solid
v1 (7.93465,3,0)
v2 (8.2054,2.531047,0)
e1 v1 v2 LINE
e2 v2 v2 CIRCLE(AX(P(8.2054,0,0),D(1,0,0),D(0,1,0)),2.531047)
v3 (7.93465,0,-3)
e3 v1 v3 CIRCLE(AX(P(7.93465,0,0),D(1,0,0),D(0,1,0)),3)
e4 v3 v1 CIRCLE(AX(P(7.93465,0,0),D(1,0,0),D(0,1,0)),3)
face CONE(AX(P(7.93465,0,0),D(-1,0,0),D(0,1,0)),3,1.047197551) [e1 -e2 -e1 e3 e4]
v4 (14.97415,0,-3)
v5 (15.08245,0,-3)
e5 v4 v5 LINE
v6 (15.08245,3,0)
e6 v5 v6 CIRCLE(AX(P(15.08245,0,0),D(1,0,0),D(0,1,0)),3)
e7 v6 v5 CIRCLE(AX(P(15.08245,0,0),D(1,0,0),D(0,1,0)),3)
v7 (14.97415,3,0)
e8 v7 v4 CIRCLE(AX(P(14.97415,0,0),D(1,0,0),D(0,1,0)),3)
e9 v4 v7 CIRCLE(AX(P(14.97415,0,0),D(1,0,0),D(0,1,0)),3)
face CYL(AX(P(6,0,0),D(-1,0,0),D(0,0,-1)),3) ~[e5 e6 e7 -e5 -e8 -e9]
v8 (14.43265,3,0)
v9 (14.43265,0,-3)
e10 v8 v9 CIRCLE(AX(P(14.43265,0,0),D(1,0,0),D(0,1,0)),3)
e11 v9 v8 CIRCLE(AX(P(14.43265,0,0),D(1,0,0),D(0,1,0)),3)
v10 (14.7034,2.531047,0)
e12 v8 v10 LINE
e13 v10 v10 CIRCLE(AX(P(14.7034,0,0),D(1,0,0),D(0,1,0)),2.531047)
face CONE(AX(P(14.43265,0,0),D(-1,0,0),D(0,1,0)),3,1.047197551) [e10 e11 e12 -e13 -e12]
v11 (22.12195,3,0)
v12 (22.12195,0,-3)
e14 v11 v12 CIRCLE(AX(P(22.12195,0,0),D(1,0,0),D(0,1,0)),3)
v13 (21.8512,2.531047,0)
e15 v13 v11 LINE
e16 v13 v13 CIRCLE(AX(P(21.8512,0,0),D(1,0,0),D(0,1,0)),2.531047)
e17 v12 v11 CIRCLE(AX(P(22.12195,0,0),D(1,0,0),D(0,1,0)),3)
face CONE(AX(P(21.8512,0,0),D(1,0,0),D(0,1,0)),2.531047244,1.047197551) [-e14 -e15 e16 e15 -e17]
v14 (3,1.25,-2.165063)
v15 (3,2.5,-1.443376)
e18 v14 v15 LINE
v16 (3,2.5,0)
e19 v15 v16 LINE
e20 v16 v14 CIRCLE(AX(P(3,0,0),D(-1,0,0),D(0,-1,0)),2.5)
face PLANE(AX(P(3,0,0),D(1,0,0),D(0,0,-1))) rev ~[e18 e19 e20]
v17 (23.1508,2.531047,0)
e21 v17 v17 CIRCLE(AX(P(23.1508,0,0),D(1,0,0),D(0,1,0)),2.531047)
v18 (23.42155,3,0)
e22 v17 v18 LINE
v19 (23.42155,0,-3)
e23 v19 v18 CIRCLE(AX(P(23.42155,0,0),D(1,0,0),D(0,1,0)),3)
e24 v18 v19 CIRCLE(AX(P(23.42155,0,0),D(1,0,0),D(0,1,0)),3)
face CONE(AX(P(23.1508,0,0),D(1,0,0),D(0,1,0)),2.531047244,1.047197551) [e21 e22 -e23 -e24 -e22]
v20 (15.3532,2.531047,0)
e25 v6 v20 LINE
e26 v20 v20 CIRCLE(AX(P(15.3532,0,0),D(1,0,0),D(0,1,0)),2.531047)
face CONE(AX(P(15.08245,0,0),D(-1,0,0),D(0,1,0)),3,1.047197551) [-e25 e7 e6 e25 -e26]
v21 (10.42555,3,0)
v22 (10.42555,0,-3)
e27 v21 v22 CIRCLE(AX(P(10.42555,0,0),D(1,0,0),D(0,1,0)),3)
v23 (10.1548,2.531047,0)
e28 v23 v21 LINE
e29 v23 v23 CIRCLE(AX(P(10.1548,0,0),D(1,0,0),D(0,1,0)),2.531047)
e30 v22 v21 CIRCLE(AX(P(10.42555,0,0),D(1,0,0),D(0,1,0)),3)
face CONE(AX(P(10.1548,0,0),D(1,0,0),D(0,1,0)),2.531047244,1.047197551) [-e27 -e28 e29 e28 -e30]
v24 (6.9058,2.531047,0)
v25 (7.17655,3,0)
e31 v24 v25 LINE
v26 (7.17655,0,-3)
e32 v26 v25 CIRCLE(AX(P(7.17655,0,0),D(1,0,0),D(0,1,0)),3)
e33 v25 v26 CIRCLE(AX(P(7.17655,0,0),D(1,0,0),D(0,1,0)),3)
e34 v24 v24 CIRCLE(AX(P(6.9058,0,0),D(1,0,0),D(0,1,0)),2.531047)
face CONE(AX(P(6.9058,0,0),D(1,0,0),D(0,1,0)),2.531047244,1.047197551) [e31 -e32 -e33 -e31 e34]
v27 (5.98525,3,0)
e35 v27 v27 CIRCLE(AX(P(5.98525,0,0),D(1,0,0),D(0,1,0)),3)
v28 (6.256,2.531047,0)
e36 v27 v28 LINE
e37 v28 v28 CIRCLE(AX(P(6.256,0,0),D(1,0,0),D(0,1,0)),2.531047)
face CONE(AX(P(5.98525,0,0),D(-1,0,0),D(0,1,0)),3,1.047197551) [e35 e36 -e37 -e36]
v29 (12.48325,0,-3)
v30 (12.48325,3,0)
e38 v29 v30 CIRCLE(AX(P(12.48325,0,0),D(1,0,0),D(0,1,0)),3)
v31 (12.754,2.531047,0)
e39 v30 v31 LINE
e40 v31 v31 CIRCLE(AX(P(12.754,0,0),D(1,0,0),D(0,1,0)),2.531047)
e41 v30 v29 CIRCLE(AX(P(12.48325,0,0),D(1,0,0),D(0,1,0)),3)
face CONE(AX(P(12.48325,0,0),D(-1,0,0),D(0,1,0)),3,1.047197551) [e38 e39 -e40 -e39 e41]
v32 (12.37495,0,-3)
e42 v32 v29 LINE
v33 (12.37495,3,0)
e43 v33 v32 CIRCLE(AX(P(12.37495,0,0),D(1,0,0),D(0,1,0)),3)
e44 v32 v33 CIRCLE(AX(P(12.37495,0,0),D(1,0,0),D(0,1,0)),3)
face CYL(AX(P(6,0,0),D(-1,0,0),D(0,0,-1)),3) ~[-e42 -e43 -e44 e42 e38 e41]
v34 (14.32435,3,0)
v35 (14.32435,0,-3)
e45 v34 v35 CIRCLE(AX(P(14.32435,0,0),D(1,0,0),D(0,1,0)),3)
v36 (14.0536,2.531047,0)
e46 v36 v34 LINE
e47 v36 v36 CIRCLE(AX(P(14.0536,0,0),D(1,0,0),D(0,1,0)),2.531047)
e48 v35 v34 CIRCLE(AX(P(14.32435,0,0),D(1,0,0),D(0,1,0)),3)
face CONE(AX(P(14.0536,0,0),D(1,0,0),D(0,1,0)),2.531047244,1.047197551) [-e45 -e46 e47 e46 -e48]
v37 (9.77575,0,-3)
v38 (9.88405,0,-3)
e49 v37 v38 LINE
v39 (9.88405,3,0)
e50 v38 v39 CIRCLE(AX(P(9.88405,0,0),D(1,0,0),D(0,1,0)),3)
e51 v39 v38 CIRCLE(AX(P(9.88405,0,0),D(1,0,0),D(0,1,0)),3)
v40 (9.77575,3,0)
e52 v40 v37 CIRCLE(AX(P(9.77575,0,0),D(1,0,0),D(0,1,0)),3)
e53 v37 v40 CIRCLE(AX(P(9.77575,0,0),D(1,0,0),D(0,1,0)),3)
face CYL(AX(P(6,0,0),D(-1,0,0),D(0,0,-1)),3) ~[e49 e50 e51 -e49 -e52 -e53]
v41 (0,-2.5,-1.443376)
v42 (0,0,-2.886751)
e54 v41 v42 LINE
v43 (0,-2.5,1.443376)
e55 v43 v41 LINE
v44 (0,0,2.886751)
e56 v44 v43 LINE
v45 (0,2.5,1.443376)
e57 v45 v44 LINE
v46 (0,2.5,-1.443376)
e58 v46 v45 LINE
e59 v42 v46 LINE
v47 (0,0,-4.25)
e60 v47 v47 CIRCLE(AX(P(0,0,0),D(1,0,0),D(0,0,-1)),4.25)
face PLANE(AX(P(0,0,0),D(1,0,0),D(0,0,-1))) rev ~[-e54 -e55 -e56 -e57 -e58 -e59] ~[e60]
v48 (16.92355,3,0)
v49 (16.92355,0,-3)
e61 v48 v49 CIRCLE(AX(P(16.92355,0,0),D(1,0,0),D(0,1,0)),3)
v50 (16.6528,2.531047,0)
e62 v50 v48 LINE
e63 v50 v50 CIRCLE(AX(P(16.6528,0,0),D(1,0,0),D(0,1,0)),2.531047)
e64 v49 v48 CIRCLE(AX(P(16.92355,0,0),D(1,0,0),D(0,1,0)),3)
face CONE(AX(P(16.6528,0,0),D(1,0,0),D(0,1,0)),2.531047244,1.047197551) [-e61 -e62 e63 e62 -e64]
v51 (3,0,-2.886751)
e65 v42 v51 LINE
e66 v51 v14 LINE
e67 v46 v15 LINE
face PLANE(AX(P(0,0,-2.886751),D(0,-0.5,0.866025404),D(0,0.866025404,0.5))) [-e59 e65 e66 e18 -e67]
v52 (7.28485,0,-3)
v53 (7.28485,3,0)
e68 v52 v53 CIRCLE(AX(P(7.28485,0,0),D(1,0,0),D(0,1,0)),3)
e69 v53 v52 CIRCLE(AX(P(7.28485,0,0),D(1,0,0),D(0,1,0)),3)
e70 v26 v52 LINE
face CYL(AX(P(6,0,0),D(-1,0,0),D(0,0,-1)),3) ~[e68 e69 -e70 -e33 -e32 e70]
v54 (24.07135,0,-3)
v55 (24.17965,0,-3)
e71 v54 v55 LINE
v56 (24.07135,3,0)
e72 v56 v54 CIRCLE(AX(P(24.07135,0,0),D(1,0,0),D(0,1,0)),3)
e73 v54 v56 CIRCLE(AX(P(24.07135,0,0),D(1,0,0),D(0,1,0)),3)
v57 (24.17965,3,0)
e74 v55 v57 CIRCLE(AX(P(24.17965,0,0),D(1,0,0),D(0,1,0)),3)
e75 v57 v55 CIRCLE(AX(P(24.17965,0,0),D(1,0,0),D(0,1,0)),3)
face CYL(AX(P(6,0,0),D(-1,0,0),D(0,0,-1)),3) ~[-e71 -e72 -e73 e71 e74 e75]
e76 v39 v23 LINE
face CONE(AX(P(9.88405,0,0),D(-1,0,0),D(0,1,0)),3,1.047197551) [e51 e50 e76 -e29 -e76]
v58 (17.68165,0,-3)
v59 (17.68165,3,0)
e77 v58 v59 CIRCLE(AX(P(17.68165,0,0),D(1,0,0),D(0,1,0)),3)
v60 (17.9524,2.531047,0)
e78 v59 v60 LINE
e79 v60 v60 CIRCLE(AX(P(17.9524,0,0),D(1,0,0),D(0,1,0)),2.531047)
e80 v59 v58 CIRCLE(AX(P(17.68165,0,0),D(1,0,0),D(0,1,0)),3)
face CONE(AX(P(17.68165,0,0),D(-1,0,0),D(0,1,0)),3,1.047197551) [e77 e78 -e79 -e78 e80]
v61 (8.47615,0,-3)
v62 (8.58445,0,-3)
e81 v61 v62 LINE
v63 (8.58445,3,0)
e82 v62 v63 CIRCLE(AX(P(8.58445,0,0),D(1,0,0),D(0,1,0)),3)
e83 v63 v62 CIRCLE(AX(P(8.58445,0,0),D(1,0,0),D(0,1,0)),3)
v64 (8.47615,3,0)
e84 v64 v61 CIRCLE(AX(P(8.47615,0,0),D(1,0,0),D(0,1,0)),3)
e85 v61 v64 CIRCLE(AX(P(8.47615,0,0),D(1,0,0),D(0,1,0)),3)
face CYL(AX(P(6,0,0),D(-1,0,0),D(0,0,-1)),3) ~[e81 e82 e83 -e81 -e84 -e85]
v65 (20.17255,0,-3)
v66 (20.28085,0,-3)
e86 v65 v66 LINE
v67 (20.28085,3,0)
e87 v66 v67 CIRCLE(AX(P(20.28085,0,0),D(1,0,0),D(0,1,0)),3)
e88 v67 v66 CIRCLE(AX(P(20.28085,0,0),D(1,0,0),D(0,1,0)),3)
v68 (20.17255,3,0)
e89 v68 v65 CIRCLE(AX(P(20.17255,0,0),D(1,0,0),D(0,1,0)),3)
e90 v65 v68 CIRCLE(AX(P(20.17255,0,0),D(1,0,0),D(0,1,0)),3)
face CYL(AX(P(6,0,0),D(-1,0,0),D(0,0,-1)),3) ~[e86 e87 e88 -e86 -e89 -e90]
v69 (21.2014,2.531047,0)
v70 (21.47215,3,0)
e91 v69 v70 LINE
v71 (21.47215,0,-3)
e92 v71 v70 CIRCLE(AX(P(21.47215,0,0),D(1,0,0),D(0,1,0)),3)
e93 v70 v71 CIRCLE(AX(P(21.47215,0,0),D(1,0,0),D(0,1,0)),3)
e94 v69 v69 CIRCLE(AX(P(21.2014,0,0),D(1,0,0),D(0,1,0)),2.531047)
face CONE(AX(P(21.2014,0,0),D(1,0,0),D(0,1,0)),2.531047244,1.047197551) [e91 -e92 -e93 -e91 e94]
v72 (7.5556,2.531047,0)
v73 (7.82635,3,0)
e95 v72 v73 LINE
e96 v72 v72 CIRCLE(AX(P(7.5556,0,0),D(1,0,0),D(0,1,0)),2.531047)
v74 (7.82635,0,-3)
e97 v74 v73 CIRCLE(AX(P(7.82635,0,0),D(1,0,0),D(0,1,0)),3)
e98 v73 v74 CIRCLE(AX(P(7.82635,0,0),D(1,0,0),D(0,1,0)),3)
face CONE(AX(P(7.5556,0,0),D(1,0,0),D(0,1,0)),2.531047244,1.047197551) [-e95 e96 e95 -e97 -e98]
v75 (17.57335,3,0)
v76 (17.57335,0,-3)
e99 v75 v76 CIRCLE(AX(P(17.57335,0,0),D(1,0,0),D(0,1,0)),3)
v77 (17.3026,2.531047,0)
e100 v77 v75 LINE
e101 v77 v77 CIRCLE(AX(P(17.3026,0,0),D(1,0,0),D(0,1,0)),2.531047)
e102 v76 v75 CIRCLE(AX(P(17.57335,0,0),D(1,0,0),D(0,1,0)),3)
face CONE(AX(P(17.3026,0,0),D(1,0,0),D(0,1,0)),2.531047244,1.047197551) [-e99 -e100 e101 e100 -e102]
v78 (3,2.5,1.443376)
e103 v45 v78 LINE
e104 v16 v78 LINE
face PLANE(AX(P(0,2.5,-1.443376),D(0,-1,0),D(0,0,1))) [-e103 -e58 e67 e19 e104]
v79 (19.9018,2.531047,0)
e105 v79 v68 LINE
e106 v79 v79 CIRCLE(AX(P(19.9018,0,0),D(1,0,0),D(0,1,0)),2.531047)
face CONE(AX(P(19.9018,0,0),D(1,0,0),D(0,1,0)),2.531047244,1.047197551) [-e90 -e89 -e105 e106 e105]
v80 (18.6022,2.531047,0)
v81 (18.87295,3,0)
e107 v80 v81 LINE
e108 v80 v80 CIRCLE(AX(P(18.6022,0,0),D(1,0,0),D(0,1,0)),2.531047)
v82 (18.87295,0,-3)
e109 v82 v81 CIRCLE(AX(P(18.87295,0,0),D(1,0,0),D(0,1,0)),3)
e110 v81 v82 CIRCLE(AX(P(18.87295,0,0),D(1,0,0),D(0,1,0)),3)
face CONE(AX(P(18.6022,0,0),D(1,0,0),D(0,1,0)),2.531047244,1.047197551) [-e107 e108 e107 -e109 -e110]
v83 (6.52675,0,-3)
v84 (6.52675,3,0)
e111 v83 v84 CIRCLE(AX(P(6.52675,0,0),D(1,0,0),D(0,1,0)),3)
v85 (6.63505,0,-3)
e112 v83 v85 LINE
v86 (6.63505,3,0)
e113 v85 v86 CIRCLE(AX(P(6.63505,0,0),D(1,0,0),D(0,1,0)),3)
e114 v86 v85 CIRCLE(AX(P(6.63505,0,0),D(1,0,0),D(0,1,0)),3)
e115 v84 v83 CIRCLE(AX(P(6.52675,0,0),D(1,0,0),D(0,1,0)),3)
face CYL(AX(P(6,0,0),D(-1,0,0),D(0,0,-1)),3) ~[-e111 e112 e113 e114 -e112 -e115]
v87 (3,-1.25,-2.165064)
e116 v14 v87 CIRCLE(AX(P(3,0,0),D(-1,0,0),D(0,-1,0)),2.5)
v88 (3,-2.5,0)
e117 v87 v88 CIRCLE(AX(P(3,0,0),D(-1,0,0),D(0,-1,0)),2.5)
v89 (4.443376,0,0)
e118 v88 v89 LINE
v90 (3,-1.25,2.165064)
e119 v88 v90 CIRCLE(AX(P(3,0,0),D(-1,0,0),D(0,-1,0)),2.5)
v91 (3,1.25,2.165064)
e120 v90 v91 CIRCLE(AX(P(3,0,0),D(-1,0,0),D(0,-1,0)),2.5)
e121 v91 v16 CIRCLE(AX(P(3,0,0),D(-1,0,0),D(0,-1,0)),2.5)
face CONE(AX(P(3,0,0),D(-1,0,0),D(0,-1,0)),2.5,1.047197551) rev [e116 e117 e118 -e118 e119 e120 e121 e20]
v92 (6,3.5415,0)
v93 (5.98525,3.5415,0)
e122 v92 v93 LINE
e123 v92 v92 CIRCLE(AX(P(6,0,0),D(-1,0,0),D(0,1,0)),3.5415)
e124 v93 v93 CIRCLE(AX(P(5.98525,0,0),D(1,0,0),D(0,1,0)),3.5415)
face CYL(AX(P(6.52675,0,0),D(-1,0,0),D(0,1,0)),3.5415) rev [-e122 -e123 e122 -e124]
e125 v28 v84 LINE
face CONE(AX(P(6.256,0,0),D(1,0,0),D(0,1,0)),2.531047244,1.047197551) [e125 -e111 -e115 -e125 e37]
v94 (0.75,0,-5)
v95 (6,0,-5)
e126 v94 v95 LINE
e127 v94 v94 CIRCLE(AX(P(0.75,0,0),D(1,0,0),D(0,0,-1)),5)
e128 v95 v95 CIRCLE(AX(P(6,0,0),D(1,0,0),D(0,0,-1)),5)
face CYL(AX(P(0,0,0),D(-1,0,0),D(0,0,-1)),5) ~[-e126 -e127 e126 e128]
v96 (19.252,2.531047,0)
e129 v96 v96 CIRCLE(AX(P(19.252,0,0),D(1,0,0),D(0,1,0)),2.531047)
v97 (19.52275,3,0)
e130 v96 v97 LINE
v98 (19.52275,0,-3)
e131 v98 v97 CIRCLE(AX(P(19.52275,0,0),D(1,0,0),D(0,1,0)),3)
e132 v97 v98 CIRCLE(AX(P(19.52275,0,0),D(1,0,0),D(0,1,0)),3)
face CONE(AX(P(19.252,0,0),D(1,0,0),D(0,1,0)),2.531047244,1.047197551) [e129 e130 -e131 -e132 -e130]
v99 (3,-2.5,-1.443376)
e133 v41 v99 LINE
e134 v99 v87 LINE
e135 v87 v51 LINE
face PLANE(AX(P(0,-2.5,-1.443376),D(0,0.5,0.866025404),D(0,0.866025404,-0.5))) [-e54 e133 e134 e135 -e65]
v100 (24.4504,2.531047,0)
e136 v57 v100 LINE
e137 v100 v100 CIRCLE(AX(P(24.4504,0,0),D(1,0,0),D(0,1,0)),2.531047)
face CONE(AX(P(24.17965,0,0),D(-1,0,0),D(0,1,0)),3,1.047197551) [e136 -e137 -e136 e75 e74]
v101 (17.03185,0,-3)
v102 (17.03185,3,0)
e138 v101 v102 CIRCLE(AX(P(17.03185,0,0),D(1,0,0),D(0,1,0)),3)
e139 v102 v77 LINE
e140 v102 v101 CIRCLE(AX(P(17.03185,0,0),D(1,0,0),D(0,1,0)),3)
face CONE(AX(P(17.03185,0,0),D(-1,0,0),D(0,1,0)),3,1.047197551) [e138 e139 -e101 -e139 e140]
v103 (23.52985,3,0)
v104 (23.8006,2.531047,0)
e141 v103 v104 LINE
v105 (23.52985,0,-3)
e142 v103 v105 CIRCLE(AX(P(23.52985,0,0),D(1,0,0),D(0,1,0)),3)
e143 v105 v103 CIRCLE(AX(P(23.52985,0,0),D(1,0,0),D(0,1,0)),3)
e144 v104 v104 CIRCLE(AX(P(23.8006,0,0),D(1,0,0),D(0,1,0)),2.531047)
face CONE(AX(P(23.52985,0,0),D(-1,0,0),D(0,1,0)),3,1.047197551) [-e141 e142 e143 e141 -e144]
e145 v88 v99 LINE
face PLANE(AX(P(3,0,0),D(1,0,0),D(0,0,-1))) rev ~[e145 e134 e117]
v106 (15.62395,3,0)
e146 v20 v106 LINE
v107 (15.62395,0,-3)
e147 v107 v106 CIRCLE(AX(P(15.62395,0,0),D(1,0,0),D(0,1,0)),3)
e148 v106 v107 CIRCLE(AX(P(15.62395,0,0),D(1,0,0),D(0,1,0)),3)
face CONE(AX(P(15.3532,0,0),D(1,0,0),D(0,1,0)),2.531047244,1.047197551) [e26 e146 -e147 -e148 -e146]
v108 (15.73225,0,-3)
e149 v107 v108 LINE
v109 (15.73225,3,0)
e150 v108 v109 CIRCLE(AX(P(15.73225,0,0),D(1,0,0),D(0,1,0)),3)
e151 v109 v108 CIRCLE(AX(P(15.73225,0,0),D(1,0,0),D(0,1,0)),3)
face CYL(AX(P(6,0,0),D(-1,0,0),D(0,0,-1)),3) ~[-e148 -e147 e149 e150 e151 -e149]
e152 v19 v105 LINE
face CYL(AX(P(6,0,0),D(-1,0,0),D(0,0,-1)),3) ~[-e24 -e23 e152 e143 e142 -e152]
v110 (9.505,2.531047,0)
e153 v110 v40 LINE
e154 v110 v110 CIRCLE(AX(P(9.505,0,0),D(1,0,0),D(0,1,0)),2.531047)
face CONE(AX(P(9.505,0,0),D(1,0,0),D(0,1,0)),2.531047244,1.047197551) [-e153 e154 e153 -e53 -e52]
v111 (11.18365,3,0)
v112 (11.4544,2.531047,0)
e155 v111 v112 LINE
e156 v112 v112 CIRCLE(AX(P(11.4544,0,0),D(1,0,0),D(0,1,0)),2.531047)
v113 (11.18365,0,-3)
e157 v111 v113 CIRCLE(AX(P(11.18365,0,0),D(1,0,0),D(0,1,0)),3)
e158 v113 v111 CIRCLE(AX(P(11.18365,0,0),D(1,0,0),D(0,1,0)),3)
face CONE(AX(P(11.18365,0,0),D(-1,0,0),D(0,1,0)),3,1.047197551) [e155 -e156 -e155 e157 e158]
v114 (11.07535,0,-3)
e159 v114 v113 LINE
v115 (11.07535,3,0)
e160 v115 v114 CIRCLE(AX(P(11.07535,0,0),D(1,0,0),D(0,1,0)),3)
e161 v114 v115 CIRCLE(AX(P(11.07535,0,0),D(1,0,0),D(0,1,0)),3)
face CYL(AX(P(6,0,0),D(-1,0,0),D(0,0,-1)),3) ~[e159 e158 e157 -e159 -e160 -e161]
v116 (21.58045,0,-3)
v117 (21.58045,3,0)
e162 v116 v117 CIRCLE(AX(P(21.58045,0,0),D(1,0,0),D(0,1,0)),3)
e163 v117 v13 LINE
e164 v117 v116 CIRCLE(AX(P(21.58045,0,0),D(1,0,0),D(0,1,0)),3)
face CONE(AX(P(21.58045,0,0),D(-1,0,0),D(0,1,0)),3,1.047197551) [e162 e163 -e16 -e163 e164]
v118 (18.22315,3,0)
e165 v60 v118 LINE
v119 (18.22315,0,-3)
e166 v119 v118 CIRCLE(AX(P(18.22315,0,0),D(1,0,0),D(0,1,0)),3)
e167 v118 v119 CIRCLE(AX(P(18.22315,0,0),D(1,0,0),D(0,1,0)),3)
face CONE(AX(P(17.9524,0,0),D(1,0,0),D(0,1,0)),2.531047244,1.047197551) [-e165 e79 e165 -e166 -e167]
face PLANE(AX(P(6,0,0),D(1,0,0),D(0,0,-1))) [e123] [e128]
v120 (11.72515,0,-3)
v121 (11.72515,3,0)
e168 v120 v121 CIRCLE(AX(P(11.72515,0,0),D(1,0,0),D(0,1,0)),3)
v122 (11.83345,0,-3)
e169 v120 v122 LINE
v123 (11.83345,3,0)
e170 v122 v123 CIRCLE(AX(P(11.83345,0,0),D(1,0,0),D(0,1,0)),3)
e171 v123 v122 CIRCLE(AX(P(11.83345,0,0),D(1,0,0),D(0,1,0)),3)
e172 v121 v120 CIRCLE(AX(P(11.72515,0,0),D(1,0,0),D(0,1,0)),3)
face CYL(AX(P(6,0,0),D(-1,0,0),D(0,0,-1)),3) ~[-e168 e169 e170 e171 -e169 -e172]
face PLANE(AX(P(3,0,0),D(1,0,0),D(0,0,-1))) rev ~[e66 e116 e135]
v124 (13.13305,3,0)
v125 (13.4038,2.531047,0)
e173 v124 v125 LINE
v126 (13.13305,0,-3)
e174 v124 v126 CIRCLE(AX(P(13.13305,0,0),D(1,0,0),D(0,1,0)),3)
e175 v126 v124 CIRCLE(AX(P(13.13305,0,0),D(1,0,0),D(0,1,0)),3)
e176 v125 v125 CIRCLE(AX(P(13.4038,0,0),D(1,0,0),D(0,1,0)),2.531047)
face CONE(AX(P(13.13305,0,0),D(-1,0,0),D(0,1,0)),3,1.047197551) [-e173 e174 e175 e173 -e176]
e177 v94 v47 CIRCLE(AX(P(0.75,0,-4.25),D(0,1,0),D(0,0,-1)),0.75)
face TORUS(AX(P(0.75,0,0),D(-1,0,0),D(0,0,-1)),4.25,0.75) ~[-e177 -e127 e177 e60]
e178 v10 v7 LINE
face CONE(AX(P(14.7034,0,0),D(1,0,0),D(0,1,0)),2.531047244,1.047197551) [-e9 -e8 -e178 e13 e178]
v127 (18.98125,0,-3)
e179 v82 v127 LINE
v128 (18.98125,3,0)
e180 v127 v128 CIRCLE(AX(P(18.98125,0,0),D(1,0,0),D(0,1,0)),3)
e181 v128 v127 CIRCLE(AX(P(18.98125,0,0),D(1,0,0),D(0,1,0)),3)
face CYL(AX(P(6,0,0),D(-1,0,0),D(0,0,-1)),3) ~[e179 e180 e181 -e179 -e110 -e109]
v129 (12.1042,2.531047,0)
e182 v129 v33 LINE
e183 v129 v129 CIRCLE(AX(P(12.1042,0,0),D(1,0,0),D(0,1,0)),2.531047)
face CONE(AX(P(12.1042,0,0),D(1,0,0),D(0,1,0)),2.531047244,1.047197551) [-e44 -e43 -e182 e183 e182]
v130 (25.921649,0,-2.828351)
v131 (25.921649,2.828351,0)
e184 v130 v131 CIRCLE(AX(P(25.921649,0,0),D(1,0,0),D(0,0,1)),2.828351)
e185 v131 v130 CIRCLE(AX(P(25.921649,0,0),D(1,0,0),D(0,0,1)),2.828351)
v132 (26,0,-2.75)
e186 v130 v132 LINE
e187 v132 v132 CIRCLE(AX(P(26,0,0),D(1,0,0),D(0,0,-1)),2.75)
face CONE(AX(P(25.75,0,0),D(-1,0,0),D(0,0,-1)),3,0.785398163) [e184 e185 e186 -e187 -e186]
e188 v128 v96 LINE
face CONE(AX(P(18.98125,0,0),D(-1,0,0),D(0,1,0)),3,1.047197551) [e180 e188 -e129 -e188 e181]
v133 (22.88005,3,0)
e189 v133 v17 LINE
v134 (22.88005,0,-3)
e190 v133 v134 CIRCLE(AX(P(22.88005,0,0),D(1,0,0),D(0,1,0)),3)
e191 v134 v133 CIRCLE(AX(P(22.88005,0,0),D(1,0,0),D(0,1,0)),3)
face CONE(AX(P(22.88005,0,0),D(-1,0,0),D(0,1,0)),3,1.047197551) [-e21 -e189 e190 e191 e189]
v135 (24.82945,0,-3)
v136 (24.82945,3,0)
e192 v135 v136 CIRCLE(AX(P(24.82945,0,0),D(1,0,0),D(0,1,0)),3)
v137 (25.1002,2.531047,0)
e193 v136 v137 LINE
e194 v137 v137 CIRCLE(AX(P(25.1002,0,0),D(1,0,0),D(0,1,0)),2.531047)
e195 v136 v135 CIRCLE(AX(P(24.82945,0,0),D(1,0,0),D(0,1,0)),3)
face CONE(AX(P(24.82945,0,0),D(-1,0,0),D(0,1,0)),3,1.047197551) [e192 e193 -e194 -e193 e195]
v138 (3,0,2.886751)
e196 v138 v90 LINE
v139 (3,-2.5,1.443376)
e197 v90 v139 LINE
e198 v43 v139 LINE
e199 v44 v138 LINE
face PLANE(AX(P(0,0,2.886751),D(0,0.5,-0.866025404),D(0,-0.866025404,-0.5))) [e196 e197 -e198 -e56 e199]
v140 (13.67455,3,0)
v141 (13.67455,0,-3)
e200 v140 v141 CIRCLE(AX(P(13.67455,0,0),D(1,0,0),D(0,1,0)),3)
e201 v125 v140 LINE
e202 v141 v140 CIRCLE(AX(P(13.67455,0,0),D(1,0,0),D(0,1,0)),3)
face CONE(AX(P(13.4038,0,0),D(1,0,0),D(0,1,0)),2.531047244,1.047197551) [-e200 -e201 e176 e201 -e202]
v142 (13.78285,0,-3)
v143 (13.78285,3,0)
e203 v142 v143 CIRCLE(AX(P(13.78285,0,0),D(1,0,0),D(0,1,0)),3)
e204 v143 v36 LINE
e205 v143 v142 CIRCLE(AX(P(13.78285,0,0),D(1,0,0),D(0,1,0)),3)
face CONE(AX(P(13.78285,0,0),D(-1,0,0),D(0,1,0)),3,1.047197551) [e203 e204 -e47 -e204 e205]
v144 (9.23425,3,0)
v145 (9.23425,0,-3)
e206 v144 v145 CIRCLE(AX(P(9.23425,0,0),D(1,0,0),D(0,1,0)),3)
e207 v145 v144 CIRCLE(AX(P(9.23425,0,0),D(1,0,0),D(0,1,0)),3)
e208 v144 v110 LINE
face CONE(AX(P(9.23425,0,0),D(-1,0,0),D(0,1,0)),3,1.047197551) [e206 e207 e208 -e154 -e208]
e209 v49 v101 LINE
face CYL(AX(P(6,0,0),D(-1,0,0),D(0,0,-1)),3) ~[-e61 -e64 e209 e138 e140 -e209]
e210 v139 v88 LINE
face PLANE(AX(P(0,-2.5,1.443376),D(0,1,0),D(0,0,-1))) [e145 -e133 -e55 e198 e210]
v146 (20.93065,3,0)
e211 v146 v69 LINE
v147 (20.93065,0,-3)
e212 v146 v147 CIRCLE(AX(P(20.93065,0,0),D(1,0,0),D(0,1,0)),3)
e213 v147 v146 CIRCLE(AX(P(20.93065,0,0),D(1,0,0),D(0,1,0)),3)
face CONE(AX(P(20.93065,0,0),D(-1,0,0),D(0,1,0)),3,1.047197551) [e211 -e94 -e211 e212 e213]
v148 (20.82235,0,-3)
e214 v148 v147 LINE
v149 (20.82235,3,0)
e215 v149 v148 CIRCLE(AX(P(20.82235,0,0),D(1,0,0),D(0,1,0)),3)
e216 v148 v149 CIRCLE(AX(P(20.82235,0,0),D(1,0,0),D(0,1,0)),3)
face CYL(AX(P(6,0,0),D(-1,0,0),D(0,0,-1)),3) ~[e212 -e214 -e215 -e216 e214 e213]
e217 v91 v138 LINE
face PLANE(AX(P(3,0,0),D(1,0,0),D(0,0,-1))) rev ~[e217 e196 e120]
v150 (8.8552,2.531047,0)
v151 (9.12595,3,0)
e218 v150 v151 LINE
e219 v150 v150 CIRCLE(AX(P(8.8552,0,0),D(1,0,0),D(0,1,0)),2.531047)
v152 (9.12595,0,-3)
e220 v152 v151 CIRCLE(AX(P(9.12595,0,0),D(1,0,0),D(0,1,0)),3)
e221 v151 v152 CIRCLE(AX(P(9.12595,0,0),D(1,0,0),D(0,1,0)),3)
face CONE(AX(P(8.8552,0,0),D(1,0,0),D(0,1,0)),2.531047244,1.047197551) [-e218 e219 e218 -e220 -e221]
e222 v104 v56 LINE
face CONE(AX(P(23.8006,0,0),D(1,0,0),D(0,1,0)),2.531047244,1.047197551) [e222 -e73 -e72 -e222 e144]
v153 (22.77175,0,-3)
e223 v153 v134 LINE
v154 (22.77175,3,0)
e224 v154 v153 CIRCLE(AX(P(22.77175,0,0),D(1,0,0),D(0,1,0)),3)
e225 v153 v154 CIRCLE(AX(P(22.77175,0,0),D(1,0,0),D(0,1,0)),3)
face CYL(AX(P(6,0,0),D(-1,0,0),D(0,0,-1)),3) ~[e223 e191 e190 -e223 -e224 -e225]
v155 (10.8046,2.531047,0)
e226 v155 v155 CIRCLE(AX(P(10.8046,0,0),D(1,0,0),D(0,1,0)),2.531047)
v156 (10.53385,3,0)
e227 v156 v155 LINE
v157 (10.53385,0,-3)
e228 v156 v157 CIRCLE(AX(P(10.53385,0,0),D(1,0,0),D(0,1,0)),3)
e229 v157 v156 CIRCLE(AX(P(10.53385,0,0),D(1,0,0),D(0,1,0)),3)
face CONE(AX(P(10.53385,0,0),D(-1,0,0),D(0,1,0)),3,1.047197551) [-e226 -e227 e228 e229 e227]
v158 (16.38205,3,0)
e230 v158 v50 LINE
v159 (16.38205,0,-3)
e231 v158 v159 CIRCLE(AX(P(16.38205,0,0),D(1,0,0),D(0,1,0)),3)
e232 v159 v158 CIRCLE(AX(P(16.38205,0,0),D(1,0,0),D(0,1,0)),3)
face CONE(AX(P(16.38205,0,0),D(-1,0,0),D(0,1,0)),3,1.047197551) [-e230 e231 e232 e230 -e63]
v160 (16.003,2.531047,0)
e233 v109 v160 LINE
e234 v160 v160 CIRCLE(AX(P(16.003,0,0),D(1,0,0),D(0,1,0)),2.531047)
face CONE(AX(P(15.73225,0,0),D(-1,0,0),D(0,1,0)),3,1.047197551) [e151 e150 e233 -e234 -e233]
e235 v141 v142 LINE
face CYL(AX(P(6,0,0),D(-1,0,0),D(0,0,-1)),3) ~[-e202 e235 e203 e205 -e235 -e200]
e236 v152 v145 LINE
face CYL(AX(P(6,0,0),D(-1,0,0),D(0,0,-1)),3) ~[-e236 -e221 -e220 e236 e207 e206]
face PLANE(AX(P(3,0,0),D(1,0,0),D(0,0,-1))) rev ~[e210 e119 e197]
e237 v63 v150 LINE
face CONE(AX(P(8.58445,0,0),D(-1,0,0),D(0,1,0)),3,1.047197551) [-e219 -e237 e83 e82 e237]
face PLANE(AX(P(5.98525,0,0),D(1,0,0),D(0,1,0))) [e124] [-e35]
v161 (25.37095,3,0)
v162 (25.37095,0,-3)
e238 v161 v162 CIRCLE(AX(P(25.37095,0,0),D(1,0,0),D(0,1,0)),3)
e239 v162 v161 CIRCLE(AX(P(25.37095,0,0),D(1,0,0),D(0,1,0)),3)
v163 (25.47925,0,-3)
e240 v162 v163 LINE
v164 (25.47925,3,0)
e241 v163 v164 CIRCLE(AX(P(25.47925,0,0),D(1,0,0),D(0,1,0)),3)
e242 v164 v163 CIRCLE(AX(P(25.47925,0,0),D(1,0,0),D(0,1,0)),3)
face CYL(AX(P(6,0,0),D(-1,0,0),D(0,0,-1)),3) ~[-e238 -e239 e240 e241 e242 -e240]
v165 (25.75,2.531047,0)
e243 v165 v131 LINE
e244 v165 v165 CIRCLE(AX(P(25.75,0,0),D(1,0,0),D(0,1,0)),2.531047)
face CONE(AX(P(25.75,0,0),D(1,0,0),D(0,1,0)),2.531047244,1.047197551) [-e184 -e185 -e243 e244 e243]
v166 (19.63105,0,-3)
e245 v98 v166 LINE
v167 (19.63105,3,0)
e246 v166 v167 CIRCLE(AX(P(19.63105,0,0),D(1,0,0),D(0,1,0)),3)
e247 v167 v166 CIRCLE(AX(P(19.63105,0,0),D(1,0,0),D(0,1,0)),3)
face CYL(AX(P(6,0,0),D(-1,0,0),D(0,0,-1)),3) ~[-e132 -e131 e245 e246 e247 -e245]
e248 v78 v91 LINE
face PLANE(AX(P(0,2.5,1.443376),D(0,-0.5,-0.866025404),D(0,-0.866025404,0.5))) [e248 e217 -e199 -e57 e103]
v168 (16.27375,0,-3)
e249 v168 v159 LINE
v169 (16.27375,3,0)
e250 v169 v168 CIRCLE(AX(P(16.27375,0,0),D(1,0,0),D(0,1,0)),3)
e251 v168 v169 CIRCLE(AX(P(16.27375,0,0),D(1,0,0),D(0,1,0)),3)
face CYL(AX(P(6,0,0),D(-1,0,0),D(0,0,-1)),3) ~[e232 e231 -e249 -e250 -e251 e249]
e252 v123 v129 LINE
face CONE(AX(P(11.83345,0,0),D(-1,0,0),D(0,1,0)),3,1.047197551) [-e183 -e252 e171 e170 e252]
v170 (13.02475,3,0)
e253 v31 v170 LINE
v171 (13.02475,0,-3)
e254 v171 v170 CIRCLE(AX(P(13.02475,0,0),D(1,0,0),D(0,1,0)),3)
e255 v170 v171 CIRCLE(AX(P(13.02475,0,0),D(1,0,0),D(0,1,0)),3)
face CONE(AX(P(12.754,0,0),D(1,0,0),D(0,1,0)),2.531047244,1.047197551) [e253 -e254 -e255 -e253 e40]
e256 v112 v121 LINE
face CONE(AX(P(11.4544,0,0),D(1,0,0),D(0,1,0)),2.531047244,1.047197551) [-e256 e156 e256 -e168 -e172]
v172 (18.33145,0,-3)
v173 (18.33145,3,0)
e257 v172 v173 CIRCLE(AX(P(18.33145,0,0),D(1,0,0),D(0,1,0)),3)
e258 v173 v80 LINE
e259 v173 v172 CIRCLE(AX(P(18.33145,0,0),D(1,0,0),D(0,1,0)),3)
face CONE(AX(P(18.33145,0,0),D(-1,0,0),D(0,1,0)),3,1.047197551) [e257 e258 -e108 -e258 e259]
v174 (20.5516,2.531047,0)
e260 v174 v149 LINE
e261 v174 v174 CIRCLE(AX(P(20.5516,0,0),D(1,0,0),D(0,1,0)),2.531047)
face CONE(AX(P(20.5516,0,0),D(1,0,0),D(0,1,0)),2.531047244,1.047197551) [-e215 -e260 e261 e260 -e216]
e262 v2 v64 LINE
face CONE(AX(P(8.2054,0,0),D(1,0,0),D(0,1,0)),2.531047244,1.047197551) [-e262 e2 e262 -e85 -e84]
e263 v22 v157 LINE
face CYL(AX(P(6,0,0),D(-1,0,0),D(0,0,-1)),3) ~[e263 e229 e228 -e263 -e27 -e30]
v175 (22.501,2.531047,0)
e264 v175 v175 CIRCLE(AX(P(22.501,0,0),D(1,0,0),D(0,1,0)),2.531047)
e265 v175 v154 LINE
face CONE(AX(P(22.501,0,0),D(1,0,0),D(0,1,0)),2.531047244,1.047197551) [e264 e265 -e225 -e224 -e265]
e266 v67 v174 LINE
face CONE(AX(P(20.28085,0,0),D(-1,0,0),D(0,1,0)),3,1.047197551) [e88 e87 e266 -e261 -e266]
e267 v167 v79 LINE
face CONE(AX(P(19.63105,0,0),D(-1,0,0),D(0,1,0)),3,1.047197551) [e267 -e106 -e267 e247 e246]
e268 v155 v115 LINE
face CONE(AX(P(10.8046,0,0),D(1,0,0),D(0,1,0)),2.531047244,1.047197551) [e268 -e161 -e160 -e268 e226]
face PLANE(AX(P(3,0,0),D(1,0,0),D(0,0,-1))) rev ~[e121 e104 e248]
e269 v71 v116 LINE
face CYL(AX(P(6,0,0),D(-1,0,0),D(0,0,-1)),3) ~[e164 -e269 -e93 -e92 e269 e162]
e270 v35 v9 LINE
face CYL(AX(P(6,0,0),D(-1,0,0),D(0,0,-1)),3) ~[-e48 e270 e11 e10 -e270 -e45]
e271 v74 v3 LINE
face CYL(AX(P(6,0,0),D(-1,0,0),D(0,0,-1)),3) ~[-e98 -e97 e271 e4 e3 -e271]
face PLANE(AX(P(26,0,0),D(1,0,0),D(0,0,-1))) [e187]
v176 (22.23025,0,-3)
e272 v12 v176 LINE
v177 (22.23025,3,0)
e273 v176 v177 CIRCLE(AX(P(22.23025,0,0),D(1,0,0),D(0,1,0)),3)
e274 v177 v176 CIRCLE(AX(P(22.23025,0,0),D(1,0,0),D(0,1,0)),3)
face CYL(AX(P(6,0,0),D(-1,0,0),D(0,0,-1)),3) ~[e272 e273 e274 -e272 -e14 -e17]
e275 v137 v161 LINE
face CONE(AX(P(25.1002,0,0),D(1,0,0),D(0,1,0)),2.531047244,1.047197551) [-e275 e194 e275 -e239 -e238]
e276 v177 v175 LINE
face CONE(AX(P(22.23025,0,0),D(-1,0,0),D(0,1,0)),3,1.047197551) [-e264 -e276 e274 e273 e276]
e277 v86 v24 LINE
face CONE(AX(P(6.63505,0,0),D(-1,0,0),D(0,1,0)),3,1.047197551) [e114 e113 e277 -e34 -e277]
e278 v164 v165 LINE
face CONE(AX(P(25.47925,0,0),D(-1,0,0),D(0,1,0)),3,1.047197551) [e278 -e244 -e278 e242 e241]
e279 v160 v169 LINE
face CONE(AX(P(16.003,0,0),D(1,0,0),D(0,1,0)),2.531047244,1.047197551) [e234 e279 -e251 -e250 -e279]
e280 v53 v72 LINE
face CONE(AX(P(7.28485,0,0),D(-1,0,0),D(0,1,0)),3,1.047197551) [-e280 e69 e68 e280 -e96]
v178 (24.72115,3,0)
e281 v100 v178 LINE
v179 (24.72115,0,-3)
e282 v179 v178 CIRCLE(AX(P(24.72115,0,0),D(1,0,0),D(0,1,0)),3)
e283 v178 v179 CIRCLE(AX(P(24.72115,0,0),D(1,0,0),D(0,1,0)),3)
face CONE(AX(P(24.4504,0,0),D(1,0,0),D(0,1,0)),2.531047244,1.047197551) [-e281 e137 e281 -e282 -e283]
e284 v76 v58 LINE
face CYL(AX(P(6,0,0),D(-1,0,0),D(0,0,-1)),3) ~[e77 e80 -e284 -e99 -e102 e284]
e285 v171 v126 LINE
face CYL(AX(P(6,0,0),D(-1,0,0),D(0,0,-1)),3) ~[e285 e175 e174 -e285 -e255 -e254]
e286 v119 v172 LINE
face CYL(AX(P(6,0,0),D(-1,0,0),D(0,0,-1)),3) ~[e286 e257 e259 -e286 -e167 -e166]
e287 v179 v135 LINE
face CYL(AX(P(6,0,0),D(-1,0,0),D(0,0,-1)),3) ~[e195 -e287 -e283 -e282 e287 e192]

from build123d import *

# Parameters (mm, degrees)
SKETCH1_R           = 5
BASEHEAD_DEPTH      = 6
SKETCH2_R           = 3
BASEBODY_DEPTH      = 20
HEXAGONSOCKET_DEPTH = 3
TOPFILLET_R         = 0.75
CHAMFER1_SIZE       = 0.25
LPATTERN10_COUNT    = 31
LPATTERN10_PITCH    = 0.6498


with BuildPart() as part:
    # Sketch1 → BaseHead (new body)
    with BuildSketch(Plane(origin=(0, 0, 0), x_dir=(0, 0, -1), z_dir=(1, 0, 0))):
        Circle(SKETCH1_R)
    extrude(amount=BASEHEAD_DEPTH)

    # Sketch2 → BaseBody (add)
    with BuildSketch(Plane(origin=(6, 0, 0), x_dir=(0, 0, -1), z_dir=(1, 0, 0))):
        Circle(SKETCH2_R)
    extrude(amount=BASEBODY_DEPTH)

    # Sketch3 → HexagonSocket (cut)
    with BuildSketch(Plane(origin=(0, 0, 0), x_dir=(0, 0, -1), z_dir=(1, 0, 0))):
        Polygon((2.886751346, 0), (1.443375673, 2.5), (-1.443375673, 2.5), (-2.886751346, 0), (-1.443375673, -2.5), (1.443375673, -2.5), align=None)
    extrude(amount=HEXAGONSOCKET_DEPTH, mode=Mode.SUBTRACT)

    # Sketch4 → Cut-Revolve1 (revolve, cut)
    with BuildSketch(Plane(origin=(-4.19613823, 0.75, 0), x_dir=(-1, 0, 0), z_dir=(0, 0, 1))):
        Polygon((-7.19613823, 3.25), (-8.639513903, 0.75), (-7.19613823, 0.75), align=None)
    revolve(axis=Axis((0.838992387, 0, 0), (-1, 0, 0)), mode=Mode.SUBTRACT)

    # TopFillet
    topfillet_edges = [part.edges().sort_by_distance(p)[0] for p in [
        (0, 0, 5),
    ]]
    fillet(topfillet_edges, radius=TOPFILLET_R)

    # Chamfer1
    chamfer1_edges = [part.edges().sort_by_distance(p)[0] for p in [
        (26, 0, 3),
    ]]
    chamfer(chamfer1_edges, length=CHAMFER1_SIZE)

    # Sketch5 → Cut-Revolve10 (revolve, cut)
    with BuildSketch(Plane.XY):
        Polygon((25.75, 2.531047244), (26.02075, 3), (26.02075, 3.5415), (25.47925, 3.5415), (25.47925, 3), align=None)
    cut_revolve10 = revolve(axis=Axis((0, 0, 0), (1, 0, 0)), mode=Mode.SUBTRACT)

    # LPattern10: Cut-Revolve10 ×31
    with Locations(*[(-i * LPATTERN10_PITCH, 0, 0) for i in range(1, LPATTERN10_COUNT)]):
        add(cut_revolve10, mode=Mode.SUBTRACT)


solid = part.part
